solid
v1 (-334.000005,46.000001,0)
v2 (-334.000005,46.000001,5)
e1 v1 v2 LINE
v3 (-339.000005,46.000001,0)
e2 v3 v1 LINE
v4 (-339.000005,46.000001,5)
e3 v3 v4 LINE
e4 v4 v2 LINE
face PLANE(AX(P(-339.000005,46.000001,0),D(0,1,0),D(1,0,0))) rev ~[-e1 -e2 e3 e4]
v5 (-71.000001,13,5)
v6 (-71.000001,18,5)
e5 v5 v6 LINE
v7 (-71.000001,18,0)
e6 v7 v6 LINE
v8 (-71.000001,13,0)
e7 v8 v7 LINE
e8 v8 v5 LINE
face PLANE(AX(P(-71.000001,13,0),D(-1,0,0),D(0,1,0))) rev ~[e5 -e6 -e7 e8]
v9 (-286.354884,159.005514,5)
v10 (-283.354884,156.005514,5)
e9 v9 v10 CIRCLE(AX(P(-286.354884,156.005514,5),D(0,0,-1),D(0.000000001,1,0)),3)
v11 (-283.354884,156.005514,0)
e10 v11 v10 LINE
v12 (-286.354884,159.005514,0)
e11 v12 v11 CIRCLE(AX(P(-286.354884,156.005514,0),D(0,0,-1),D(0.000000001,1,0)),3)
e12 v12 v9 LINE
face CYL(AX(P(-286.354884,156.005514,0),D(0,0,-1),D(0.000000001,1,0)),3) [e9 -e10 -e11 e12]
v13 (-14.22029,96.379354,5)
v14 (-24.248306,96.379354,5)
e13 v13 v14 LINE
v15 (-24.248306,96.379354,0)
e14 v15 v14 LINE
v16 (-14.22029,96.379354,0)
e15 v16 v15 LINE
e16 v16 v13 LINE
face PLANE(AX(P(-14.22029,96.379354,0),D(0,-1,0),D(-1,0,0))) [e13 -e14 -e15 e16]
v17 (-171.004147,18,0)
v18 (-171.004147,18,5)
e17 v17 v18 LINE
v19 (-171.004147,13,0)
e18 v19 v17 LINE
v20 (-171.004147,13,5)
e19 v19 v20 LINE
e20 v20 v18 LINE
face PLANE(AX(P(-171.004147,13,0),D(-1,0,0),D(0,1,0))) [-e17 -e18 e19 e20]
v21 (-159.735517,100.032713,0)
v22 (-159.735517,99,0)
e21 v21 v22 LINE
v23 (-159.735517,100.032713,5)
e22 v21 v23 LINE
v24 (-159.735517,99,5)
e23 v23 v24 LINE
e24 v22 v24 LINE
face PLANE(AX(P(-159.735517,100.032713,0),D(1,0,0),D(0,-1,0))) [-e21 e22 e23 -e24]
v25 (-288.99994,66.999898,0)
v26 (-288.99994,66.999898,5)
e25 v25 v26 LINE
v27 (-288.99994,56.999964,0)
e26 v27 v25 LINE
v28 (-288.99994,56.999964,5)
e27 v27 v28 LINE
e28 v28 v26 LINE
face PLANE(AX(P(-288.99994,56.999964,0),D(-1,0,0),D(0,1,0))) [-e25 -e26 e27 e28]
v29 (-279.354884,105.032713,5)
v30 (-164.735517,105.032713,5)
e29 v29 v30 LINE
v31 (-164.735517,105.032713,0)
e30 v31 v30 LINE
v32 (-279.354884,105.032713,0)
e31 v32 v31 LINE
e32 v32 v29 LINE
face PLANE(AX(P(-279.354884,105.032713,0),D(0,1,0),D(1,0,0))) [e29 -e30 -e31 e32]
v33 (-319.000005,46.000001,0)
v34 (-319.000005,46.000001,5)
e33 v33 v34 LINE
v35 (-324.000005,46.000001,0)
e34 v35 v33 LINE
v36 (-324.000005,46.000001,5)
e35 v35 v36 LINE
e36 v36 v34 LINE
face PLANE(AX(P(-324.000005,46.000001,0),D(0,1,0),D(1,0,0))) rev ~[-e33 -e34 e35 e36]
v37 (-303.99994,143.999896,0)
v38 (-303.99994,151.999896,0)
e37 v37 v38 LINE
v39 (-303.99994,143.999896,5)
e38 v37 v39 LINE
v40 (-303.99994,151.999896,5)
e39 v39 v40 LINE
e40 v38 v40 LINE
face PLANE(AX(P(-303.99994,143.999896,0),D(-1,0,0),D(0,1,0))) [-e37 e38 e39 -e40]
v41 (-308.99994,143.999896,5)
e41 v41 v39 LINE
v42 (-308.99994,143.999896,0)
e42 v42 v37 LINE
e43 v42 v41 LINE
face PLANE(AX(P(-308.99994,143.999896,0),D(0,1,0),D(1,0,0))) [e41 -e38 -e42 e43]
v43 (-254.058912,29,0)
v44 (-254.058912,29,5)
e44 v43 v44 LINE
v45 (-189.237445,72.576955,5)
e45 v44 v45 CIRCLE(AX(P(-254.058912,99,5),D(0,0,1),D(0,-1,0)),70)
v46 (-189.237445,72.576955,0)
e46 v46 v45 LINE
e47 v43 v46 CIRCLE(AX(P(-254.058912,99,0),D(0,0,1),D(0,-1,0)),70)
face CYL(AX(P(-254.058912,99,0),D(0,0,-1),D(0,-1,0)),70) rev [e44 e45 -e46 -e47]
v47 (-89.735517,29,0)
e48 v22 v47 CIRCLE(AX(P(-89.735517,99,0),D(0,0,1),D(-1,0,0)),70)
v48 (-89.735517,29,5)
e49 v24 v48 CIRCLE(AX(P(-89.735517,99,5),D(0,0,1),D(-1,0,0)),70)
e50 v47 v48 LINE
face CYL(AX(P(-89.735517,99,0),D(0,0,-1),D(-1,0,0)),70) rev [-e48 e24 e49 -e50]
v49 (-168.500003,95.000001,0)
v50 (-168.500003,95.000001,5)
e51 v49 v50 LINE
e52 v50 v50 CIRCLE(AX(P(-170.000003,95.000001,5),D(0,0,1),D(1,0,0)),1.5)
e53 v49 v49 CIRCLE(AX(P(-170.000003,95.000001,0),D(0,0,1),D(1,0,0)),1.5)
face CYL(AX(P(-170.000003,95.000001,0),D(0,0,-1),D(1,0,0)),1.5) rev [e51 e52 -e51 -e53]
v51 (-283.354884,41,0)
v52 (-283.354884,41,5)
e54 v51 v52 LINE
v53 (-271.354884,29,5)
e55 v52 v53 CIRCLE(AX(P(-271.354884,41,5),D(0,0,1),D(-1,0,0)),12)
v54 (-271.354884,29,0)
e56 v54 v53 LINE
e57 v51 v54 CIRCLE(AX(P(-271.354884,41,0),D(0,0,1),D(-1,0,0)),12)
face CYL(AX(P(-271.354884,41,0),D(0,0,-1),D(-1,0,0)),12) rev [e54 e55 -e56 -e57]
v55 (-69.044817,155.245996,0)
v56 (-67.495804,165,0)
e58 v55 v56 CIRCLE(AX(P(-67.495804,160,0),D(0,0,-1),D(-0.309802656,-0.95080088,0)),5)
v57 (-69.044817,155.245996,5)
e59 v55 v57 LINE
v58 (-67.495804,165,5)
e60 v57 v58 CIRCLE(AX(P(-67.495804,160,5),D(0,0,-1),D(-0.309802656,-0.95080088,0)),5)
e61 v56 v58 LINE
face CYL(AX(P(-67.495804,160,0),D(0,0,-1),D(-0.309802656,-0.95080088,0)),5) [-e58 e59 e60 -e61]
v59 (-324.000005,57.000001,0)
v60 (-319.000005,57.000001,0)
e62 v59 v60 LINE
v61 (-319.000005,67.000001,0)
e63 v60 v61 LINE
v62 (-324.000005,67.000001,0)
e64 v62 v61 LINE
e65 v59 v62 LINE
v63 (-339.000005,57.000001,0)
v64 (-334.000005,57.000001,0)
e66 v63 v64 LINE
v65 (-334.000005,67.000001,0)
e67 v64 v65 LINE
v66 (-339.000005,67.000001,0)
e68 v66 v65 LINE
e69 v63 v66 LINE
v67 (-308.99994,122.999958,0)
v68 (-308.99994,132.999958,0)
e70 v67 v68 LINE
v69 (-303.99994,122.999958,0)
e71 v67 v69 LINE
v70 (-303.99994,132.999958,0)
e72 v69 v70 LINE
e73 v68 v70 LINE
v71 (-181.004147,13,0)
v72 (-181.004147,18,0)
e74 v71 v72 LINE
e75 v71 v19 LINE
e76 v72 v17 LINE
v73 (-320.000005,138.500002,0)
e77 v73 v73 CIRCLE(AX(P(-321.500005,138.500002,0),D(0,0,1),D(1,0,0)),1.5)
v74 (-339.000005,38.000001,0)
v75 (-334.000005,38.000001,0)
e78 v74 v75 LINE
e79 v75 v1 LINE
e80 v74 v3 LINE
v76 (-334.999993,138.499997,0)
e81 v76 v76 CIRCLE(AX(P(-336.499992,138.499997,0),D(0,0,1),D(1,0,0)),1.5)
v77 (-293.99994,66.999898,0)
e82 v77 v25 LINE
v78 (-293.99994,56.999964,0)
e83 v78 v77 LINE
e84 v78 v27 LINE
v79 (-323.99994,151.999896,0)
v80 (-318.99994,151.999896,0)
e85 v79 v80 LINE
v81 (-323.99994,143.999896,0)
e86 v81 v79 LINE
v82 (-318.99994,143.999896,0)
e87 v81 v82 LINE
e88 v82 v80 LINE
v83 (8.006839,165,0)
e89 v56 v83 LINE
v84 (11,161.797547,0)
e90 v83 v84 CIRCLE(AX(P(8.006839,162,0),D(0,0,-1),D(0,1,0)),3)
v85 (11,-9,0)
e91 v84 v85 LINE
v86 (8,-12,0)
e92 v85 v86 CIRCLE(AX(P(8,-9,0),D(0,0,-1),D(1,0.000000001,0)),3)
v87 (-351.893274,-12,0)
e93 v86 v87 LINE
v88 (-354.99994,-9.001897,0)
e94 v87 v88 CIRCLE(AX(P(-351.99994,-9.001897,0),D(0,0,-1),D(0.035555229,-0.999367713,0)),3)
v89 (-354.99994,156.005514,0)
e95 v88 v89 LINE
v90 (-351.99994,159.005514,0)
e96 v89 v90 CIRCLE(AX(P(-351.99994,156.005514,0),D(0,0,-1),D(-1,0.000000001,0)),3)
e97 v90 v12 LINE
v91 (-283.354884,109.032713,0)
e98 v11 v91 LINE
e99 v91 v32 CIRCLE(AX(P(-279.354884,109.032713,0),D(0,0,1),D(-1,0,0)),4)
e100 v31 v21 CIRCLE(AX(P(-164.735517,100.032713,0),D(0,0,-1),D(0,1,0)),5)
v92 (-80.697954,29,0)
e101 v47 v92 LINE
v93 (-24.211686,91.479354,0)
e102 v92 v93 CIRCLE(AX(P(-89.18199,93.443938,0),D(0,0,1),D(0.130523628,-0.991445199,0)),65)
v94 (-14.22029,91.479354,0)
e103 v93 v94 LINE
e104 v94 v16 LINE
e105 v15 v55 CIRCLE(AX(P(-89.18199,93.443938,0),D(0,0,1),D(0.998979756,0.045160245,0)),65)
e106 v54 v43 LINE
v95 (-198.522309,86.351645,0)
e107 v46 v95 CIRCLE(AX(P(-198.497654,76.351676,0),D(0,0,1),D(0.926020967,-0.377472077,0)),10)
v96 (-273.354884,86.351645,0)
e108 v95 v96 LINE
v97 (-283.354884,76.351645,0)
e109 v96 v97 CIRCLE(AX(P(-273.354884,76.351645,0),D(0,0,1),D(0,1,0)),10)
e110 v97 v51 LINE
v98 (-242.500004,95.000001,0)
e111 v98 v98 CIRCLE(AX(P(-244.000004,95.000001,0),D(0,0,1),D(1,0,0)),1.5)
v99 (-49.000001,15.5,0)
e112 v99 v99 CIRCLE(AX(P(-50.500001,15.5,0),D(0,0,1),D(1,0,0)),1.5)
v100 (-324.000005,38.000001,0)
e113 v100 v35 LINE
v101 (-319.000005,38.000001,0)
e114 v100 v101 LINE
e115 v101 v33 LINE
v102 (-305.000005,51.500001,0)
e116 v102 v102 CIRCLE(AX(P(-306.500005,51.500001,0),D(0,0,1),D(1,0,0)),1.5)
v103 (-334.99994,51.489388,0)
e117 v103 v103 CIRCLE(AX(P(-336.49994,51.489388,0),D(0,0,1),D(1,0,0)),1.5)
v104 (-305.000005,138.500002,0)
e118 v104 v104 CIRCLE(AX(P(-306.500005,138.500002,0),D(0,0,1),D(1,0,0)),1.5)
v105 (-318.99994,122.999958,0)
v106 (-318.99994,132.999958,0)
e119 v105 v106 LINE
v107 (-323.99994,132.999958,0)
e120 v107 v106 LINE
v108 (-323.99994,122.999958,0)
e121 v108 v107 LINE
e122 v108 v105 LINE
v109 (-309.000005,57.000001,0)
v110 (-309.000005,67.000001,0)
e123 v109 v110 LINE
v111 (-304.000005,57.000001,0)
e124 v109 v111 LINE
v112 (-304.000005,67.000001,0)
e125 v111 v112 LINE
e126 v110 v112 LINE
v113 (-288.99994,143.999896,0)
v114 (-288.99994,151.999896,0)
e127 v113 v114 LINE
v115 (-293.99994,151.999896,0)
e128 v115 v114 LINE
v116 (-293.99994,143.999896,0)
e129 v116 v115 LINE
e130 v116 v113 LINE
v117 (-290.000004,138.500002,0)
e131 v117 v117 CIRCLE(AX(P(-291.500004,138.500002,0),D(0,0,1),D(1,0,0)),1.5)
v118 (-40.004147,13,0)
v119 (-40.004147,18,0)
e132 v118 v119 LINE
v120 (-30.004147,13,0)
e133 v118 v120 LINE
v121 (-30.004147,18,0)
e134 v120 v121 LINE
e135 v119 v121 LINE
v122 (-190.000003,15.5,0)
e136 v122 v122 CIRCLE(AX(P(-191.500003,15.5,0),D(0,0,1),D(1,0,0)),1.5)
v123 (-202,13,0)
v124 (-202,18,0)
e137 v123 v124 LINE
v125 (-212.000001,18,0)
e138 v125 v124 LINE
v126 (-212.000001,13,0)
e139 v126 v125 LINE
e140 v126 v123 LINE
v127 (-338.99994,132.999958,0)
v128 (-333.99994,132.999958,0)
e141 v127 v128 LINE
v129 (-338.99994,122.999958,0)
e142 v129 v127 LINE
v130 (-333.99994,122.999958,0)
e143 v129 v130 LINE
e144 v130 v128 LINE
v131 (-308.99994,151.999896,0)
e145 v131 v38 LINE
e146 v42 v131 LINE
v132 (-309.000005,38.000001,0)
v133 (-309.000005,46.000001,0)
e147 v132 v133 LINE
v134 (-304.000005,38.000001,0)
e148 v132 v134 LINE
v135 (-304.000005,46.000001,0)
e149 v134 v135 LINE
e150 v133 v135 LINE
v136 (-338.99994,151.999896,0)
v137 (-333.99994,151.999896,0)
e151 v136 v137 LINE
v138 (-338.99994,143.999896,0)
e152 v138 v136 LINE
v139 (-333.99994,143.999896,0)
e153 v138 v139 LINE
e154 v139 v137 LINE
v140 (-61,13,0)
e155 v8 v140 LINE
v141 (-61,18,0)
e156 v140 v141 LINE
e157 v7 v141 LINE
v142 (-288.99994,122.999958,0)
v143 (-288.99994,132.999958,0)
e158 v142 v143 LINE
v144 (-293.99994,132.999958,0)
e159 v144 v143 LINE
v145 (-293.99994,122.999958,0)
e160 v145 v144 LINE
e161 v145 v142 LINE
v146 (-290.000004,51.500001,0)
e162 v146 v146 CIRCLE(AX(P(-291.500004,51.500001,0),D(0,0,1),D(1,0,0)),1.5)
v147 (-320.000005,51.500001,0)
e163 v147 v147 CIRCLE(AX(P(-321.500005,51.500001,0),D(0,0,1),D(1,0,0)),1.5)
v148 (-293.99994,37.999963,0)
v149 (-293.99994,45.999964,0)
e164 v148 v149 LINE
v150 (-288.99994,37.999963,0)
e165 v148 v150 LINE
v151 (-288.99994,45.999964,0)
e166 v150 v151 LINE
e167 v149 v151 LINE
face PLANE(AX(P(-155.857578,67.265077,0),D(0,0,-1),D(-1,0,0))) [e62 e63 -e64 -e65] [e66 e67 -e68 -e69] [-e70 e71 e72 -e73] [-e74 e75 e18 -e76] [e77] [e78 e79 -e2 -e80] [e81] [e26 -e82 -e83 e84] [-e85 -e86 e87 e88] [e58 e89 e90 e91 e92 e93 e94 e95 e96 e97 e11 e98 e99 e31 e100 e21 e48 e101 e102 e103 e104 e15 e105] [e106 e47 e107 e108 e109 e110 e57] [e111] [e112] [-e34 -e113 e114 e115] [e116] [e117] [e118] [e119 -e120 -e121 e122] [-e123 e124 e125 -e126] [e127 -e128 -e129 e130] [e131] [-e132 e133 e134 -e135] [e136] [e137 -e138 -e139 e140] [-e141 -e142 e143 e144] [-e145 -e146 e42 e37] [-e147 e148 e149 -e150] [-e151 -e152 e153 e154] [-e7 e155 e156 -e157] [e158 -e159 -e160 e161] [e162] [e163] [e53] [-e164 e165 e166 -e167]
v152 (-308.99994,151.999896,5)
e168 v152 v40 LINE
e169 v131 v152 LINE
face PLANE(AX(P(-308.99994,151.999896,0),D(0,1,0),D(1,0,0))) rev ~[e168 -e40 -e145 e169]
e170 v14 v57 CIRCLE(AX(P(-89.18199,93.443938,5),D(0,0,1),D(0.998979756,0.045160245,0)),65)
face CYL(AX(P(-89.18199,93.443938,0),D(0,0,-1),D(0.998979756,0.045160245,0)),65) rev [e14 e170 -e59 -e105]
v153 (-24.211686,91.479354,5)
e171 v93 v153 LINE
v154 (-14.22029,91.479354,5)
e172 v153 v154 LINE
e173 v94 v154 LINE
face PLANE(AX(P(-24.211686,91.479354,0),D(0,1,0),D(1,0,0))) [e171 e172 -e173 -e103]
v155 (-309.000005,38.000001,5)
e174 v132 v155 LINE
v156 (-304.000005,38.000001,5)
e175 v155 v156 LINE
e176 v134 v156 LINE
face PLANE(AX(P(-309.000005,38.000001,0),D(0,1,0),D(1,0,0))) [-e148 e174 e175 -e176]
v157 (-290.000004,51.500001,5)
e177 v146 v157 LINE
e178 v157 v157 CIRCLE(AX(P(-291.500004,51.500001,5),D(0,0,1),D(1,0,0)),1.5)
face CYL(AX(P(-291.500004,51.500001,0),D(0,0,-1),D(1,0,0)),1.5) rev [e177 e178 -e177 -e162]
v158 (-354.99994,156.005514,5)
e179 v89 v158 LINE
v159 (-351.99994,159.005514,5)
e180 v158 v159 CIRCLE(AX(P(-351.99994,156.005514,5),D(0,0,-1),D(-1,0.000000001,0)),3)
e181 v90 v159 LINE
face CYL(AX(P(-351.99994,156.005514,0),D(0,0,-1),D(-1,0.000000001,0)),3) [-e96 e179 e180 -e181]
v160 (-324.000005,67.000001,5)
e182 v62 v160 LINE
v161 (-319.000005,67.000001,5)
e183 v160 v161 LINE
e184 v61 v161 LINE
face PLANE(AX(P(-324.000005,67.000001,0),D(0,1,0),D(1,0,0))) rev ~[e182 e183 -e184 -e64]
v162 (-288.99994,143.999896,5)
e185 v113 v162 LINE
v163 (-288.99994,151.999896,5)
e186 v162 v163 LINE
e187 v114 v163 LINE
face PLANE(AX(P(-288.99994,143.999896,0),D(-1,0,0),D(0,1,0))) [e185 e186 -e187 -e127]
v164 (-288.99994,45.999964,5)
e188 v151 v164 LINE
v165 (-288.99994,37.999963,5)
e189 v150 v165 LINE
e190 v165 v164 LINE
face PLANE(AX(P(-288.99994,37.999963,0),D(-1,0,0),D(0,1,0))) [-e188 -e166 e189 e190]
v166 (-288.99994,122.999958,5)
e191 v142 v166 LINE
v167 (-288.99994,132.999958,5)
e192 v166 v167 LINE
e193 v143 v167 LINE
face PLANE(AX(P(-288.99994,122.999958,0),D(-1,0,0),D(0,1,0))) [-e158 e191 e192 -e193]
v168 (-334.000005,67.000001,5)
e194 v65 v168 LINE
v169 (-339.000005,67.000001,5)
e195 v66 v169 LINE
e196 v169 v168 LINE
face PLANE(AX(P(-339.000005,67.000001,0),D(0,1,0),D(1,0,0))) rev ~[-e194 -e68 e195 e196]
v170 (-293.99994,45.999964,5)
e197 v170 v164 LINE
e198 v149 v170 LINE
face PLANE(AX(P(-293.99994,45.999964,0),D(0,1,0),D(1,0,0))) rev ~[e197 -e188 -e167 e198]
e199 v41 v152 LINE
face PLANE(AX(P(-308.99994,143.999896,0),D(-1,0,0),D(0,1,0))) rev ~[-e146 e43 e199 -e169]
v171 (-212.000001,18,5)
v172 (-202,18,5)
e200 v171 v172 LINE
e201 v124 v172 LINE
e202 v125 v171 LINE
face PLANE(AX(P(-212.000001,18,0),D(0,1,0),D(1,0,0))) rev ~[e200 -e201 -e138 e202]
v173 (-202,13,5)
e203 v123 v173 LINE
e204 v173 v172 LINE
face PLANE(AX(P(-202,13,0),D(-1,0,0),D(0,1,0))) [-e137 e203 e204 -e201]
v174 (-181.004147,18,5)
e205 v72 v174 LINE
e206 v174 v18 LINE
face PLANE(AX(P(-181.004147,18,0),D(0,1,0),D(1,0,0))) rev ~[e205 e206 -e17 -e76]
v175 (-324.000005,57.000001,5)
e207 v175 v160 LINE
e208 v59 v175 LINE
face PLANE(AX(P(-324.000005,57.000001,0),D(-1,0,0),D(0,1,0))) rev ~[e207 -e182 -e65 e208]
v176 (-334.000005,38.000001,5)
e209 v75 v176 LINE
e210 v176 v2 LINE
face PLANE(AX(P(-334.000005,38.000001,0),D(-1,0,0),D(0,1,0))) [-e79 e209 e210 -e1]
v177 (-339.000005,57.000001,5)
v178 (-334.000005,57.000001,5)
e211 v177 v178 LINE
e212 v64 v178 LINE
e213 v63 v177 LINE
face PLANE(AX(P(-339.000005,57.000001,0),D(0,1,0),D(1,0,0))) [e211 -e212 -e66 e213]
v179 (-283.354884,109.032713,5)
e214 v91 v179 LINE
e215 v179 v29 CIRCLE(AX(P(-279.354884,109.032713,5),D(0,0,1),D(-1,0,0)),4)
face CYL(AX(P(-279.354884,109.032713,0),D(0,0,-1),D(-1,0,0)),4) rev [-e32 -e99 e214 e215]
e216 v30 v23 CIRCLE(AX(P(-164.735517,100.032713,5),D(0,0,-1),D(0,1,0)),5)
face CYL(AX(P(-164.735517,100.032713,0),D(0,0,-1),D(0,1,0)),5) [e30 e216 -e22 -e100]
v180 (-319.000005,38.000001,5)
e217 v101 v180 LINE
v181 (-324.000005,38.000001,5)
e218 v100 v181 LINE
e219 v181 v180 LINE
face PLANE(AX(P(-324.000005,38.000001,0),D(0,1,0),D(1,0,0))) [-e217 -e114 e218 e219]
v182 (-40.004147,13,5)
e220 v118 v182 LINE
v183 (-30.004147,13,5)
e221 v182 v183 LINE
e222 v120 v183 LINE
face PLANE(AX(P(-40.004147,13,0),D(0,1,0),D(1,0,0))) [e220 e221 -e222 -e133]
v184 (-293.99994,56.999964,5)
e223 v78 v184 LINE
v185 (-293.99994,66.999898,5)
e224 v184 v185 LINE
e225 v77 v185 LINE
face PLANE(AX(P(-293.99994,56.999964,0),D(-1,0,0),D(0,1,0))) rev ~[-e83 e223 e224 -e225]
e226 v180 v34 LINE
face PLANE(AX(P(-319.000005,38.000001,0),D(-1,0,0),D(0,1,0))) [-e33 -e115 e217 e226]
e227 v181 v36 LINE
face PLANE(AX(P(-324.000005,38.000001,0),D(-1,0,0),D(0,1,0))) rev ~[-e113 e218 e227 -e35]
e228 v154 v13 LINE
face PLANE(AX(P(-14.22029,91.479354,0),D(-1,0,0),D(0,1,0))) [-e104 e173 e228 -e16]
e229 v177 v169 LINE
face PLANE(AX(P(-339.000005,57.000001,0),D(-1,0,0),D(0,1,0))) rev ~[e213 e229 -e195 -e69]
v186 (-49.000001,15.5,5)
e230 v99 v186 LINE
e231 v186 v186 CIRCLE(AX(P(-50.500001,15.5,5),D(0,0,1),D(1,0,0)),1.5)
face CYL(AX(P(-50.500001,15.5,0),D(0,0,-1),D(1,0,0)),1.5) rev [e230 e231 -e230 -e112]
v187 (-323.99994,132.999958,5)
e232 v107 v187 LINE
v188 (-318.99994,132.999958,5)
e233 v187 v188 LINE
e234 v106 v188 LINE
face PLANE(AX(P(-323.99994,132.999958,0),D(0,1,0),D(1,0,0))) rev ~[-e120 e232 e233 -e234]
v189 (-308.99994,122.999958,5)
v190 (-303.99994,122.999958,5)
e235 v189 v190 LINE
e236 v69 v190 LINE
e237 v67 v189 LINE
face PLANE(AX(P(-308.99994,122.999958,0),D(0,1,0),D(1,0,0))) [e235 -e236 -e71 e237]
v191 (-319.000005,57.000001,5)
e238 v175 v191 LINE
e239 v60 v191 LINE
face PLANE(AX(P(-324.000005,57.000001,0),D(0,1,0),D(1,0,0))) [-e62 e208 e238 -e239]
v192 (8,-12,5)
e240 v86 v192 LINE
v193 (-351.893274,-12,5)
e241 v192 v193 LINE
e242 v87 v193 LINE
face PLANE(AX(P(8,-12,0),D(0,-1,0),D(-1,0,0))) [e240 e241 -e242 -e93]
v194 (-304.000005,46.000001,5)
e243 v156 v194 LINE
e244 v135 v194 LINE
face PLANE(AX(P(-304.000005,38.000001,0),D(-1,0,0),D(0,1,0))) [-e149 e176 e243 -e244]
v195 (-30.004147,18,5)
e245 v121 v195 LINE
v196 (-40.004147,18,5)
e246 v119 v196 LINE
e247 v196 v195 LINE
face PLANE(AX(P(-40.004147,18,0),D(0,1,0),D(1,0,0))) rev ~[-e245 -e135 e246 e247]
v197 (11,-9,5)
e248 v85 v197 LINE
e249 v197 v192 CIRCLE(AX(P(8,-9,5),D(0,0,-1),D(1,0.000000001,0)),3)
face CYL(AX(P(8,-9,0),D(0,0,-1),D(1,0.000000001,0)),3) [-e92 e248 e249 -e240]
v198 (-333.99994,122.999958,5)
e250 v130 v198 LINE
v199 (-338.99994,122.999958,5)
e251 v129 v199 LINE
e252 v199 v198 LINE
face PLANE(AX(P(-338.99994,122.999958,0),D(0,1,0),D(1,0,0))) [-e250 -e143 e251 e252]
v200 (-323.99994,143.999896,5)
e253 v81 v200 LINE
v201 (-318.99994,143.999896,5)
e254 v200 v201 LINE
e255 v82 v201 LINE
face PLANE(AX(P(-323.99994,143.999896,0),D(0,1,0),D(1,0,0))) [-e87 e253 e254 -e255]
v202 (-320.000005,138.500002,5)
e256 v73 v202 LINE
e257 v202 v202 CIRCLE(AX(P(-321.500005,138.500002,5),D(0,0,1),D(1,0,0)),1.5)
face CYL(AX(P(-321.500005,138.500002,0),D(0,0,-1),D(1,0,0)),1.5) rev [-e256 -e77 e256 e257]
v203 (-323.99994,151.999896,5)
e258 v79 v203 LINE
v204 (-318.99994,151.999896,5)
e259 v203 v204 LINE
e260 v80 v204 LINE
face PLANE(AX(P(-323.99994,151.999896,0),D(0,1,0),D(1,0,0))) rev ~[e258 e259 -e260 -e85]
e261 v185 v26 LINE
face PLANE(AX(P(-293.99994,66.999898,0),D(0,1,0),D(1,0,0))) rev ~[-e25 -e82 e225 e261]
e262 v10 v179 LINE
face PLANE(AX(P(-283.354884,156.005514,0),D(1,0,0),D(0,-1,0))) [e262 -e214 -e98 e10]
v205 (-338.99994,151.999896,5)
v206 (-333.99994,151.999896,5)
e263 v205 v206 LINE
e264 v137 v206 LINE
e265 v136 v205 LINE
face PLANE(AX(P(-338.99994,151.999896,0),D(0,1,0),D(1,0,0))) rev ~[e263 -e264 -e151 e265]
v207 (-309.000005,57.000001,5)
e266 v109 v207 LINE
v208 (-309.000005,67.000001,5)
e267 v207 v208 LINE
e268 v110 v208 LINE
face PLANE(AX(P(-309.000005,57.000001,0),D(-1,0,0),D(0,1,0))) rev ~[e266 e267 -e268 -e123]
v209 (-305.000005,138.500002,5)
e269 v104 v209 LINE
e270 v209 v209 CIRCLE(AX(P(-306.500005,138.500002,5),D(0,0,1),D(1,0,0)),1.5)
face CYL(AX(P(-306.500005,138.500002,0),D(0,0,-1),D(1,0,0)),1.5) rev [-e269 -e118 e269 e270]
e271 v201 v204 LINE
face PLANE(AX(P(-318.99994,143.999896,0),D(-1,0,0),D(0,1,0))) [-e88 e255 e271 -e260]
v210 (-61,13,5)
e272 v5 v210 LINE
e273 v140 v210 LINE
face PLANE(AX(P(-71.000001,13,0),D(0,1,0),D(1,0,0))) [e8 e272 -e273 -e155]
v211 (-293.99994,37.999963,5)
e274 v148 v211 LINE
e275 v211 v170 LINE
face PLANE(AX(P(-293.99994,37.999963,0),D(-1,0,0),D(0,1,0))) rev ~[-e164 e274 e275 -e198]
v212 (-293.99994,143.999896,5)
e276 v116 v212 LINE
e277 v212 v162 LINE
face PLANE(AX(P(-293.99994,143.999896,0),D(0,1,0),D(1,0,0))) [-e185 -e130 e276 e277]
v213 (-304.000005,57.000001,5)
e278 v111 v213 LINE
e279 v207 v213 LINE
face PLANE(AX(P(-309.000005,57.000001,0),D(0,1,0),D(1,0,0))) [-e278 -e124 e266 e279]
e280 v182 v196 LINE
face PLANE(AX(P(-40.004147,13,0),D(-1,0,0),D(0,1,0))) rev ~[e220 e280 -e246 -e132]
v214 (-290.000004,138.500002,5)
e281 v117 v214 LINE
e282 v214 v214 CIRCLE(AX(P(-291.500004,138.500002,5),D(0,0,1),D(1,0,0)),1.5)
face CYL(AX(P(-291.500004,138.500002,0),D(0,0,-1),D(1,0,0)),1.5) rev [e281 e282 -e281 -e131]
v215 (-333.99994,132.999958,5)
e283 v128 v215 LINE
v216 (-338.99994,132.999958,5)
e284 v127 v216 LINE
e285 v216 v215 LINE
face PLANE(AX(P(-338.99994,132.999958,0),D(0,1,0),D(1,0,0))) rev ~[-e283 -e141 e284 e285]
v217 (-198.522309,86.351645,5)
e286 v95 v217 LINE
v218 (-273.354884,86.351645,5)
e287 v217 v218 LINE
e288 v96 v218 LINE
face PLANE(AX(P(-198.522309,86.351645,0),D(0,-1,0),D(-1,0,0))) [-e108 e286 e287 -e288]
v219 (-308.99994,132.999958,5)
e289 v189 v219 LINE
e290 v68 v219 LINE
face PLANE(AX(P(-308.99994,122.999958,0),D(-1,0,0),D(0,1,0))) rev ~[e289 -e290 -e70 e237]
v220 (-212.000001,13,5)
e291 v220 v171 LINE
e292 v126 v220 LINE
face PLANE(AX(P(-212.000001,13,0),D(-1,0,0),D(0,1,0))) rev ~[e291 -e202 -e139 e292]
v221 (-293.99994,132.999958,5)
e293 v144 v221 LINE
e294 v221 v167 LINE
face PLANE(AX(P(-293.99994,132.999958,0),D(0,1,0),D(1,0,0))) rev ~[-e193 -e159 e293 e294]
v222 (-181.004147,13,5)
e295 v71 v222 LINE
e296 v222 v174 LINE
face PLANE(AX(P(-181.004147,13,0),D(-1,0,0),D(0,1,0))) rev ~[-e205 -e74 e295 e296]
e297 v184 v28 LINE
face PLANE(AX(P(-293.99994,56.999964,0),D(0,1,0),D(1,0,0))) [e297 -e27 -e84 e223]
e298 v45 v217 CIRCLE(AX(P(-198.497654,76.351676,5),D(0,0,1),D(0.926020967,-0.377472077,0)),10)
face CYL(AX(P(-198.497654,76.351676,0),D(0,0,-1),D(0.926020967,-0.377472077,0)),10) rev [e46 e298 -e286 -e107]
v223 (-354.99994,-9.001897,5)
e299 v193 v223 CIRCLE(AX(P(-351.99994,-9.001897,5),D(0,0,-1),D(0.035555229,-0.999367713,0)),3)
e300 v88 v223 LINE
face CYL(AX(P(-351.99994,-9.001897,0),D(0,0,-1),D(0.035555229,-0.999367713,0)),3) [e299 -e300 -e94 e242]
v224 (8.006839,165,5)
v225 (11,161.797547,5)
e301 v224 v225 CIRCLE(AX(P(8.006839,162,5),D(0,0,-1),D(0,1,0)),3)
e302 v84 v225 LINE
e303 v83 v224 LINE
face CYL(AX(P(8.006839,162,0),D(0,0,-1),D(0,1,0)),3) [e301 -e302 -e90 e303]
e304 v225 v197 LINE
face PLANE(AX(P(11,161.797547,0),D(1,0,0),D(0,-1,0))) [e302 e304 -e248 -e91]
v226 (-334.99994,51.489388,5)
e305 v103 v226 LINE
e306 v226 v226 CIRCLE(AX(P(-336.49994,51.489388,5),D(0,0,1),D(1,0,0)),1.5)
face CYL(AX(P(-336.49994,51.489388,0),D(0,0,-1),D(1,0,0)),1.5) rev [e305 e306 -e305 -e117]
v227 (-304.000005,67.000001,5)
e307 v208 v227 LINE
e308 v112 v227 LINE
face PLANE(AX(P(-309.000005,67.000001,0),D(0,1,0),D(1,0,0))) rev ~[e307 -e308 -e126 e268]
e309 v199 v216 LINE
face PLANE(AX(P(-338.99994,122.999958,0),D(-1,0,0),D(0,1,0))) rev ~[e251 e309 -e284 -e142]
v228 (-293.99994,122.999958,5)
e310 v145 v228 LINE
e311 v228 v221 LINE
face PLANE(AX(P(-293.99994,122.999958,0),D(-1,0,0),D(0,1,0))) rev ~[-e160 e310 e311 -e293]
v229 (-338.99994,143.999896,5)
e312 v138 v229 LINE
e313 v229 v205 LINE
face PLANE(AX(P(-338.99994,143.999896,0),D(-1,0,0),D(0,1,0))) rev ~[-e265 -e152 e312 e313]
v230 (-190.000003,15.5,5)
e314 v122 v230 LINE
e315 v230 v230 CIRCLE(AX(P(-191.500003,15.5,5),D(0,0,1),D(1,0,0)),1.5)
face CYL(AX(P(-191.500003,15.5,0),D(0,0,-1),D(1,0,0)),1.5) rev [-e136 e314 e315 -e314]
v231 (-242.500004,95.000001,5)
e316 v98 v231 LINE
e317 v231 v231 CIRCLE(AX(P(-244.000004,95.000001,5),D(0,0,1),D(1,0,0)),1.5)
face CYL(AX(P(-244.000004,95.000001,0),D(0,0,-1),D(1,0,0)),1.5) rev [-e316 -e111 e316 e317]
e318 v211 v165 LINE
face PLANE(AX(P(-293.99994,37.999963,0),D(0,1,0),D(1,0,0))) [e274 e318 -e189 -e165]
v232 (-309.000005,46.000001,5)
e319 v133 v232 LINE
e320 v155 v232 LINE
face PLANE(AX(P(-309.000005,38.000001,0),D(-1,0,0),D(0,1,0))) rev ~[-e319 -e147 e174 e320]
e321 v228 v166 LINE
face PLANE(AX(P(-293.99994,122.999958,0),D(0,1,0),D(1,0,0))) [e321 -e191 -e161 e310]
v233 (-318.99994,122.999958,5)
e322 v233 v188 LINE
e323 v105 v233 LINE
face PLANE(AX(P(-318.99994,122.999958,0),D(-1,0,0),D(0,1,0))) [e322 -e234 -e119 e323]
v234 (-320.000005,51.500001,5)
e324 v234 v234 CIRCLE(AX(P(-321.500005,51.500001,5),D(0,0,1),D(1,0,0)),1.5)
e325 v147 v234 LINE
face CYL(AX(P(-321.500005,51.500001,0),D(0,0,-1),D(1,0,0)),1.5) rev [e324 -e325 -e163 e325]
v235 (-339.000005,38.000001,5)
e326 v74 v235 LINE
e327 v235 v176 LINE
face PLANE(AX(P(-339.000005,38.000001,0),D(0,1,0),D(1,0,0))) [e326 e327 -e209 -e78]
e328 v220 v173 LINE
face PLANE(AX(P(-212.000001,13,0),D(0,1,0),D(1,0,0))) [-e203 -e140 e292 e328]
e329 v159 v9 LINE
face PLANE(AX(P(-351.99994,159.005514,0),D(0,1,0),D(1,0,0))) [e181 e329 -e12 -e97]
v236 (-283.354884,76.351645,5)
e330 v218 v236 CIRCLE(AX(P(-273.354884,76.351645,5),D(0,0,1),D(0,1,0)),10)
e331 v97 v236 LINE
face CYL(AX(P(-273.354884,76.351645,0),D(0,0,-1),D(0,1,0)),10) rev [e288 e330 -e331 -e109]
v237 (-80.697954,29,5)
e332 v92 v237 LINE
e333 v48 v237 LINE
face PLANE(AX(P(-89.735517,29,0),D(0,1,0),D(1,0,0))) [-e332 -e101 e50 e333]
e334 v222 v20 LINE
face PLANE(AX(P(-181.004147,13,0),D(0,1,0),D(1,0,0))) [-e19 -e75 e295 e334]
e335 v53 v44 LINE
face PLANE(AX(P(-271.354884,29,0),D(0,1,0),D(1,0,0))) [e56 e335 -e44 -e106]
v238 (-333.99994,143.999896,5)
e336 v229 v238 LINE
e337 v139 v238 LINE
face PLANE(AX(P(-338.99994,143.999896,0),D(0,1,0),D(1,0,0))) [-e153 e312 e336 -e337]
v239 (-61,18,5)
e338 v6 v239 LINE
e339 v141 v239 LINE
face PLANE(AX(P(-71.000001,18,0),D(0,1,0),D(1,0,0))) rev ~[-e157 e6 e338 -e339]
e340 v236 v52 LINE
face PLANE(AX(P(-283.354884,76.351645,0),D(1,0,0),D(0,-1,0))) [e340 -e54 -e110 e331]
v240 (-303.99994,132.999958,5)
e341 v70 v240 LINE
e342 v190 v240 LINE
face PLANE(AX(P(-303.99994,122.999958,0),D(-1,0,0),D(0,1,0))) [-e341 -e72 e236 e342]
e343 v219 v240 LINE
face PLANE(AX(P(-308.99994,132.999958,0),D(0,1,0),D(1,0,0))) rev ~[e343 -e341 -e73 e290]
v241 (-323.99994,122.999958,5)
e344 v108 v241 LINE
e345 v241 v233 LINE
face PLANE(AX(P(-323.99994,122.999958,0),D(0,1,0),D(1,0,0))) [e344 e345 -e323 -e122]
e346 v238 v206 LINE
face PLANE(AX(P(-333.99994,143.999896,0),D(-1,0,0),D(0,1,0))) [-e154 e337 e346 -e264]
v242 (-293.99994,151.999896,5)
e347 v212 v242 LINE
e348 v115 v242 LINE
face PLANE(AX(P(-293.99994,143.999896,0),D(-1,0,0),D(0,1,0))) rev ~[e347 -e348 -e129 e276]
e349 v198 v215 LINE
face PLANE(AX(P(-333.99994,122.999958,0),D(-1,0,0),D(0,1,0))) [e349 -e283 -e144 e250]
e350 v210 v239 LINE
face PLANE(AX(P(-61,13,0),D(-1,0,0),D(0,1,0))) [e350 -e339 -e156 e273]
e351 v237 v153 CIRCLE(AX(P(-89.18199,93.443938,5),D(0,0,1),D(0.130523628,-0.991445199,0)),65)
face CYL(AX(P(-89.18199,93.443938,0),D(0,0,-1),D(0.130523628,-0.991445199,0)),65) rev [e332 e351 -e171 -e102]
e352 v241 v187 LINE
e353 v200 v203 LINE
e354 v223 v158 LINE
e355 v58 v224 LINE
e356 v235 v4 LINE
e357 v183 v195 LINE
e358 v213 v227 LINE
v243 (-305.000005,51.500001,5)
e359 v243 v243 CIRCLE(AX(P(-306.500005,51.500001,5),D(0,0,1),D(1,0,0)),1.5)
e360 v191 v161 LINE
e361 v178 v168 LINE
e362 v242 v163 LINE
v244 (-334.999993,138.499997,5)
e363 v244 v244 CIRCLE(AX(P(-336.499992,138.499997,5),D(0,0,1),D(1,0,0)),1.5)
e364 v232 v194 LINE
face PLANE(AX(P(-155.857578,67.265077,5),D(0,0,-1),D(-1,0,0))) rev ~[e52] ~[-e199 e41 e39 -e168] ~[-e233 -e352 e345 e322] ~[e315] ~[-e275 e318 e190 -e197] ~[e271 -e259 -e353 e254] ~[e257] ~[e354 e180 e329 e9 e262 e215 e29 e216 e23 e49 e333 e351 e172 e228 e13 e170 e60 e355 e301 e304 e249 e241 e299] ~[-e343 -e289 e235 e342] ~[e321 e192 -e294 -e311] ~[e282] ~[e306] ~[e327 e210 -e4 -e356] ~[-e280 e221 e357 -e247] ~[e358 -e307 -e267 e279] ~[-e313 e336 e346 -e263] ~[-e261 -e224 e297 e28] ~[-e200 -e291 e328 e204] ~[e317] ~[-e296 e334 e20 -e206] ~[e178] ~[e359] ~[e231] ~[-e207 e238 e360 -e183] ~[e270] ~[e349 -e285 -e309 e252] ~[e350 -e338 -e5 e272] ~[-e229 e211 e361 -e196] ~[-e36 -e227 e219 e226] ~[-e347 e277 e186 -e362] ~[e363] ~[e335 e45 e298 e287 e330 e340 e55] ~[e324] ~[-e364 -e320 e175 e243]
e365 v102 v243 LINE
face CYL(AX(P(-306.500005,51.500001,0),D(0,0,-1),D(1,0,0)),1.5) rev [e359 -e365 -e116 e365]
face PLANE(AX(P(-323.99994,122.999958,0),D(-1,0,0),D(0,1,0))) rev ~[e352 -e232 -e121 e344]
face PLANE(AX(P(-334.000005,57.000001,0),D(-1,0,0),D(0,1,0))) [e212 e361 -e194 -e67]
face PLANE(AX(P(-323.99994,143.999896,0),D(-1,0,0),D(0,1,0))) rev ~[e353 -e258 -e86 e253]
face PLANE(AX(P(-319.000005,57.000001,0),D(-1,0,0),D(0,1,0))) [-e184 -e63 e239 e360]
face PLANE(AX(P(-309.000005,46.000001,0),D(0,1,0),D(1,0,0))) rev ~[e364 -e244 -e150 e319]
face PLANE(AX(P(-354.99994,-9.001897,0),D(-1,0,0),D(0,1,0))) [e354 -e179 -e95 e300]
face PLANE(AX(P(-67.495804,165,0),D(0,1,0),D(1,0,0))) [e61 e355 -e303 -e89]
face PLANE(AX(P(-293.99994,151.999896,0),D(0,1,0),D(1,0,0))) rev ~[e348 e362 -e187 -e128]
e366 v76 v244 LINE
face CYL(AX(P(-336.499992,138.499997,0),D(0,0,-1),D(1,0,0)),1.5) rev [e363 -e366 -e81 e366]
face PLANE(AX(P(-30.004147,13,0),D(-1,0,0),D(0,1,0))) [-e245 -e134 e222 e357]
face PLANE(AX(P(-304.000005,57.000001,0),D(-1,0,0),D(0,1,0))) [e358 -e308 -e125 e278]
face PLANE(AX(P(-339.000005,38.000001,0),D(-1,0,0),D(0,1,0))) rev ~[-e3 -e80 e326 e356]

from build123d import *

# Parameters (mm, degrees)
MODEL_R                  = 1.499999966
MODEL_W                  = 5.000000075
MODEL_H                  = 8.000000119
MODEL_W_2                = 5.000000074
MODEL_H_2                = 10.000000149
MODEL_H_3                = 8.00000012
MODEL_H_4                = 9.999934109
MODEL_W_3                = 10.000000149
MODEL_H_5                = 5.000000075
RESSALTO_EXTRUS_O1_DEPTH = 5


with BuildPart() as part:
    # Model → Ressalto-extrusão1 (new body)
    with BuildSketch(Plane.XY):
        with BuildLine():
            Line((8, -12), (-351.893274345, -12))
            ThreePointArc((-351.893274345, -12), (-354.083207051, -11.160599835), (-354.999940033, -9.001896861))
            Line((-354.999940033, -9.001896861), (-354.999940033, 156.005514216))
            ThreePointArc((-354.999940033, 156.005514216), (-354.121260376, 158.126834559), (-351.999940033, 159.005514216))
            Line((-351.999940033, 159.005514216), (-286.35488426, 159.005514216))
            ThreePointArc((-286.35488426, 159.005514216), (-284.233563917, 158.126834559), (-283.35488426, 156.005514216))
            Line((-283.35488426, 156.005514216), (-283.35488426, 109.0327131))
            ThreePointArc((-283.35488426, 109.0327131), (-282.183311385, 106.204285975), (-279.35488426, 105.0327131))
            Line((-279.35488426, 105.0327131), (-240.26491068, 105.0327131))
            Line((-240.26491068, 105.0327131), (-174.726717369, 105.0327131))
            Line((-174.726717369, 105.0327131), (-164.735516671, 105.0327131))
            ThreePointArc((-164.735516671, 105.0327131), (-161.199982765, 103.568247006), (-159.735516671, 100.0327131))
            Line((-159.735516671, 100.0327131), (-159.735516671, 99.000000432))
            ThreePointArc((-159.735516671, 99.000000432), (-139.232991354, 49.502525749), (-89.735516671, 29.000000432))
            Line((-89.735516671, 29.000000432), (-80.697953904, 29.000000432))
            ThreePointArc((-80.697953904, 29.000000432), (-40.9657847, 49.85268265), (-24.211685646, 91.479354272))
            Line((-24.211685646, 91.479354272), (-14.220289858, 91.479354272))
            Line((-14.220289858, 91.479354272), (-14.220289858, 96.379354272))
            Line((-14.220289858, 96.379354272), (-24.248305583, 96.379354272))
            ThreePointArc((-24.248305583, 96.379354272), (-37.455951456, 132.806572516), (-69.044817062, 155.245995598))
            ThreePointArc((-69.044817062, 155.245995598), (-72.433921946, 160.78421234), (-67.495803781, 165))
            Line((-67.495803781, 165), (8.006839019, 165))
            ThreePointArc((8.006839019, 165), (10.19856892, 164.048492138), (11, 161.797546694))
            Line((11, 161.797546694), (11, -9))
            ThreePointArc((11, -9), (10.121320344, -11.121320344), (8, -12))
        make_face()
        with Locations((-291.500004344, 51.500000767)):
            Circle(MODEL_R, mode=Mode.SUBTRACT)
        with Locations((-291.500004344, 138.500002064)):
            Circle(MODEL_R, mode=Mode.SUBTRACT)
        with Locations((-306.500004567, 138.500002064)):
            Circle(MODEL_R, mode=Mode.SUBTRACT)
        with Locations((-336.499940034, 51.48938817)):
            Circle(MODEL_R, mode=Mode.SUBTRACT)
        with Locations((-306.500004567, 51.500000767)):
            Circle(MODEL_R, mode=Mode.SUBTRACT)
        with Locations((-336.499992479, 138.499996904)):
            Circle(MODEL_R, mode=Mode.SUBTRACT)
        with Locations((-321.500004791, 138.500002064)):
            Circle(MODEL_R, mode=Mode.SUBTRACT)
        with Locations((-321.500004791, 51.500000767)):
            Circle(MODEL_R, mode=Mode.SUBTRACT)
        with Locations((-50.500000753, 15.500000231)):
            Circle(MODEL_R, mode=Mode.SUBTRACT)
        with Locations((-170.000002533, 95.000001416)):
            Circle(MODEL_R, mode=Mode.SUBTRACT)
        with Locations((-244.000003636, 95.000001416)):
            Circle(MODEL_R, mode=Mode.SUBTRACT)
        with Locations((-191.500002854, 15.500000231)):
            Circle(MODEL_R, mode=Mode.SUBTRACT)
        with Locations((-321.500004791, 42.000000626)):
            Rectangle(MODEL_W, MODEL_H, mode=Mode.SUBTRACT)
        with Locations((-321.499939997, 147.999896164)):
            Rectangle(MODEL_W_2, MODEL_H, mode=Mode.SUBTRACT)
        with Locations((-306.499940072, 147.999896164)):
            Rectangle(MODEL_W, MODEL_H, mode=Mode.SUBTRACT)
        with Locations((-336.500005014, 62.000000924)):
            Rectangle(MODEL_W_2, MODEL_H_2, mode=Mode.SUBTRACT)
        with Locations((-336.500005014, 42.000000626)):
            Rectangle(MODEL_W_2, MODEL_H, mode=Mode.SUBTRACT)
        with Locations((-321.500004791, 62.000000924)):
            Rectangle(MODEL_W, MODEL_H_2, mode=Mode.SUBTRACT)
        with Locations((-336.499939997, 147.999896164)):
            Rectangle(MODEL_W_2, MODEL_H, mode=Mode.SUBTRACT)
        with Locations((-306.500004567, 62.000000924)):
            Rectangle(MODEL_W_2, MODEL_H_2, mode=Mode.SUBTRACT)
        with Locations((-306.500004567, 42.000000626)):
            Rectangle(MODEL_W_2, MODEL_H, mode=Mode.SUBTRACT)
        with Locations((-321.499939997, 127.999958382)):
            Rectangle(MODEL_W_2, MODEL_H_2, mode=Mode.SUBTRACT)
        with Locations((-336.499939997, 127.999958382)):
            Rectangle(MODEL_W_2, MODEL_H_2, mode=Mode.SUBTRACT)
        with Locations((-306.499940072, 127.999958382)):
            Rectangle(MODEL_W, MODEL_H_2, mode=Mode.SUBTRACT)
        with Locations((-291.499939997, 147.999896164)):
            Rectangle(MODEL_W_2, MODEL_H, mode=Mode.SUBTRACT)
        with Locations((-291.499939997, 127.999958382)):
            Rectangle(MODEL_W_2, MODEL_H_2, mode=Mode.SUBTRACT)
        with Locations((-291.499939997, 41.999963457)):
            Rectangle(MODEL_W_2, MODEL_H_3, mode=Mode.SUBTRACT)
        with Locations((-291.499939997, 61.99993092)):
            Rectangle(MODEL_W_2, MODEL_H_4, mode=Mode.SUBTRACT)
        with BuildLine():
            Line((-283.35488426, 76.35164541), (-283.35488426, 41.000000433))
            ThreePointArc((-283.35488426, 41.000000433), (-279.840165634, 32.514719058), (-271.354884259, 29.000000432))
            Line((-271.354884259, 29.000000432), (-254.058912469, 29.000000432))
            ThreePointArc((-254.058912469, 29.000000432), (-215.005187795, 40.906914879), (-189.237444794, 72.576955029))
            ThreePointArc((-189.237444794, 72.576955029), (-190.205525947, 81.94100534), (-198.52230859, 86.35164541))
            Line((-198.52230859, 86.35164541), (-273.35488426, 86.35164541))
            ThreePointArc((-273.35488426, 86.35164541), (-280.425952072, 83.422713221), (-283.35488426, 76.35164541))
        make_face(mode=Mode.SUBTRACT)
        with Locations((-66.000000537, 15.500000038)):
            Rectangle(MODEL_W_3, MODEL_H_5, mode=Mode.SUBTRACT)
        with Locations((-35.004146846, 15.500000038)):
            Rectangle(MODEL_W_3, MODEL_H_5, mode=Mode.SUBTRACT)
        with Locations((-207.000000537, 15.500000038)):
            Rectangle(MODEL_W_3, MODEL_H_5, mode=Mode.SUBTRACT)
        with Locations((-176.004146697, 15.500000038)):
            Rectangle(MODEL_W_3, MODEL_H_5, mode=Mode.SUBTRACT)
    extrude(amount=RESSALTO_EXTRUS_O1_DEPTH)


solid = part.part
